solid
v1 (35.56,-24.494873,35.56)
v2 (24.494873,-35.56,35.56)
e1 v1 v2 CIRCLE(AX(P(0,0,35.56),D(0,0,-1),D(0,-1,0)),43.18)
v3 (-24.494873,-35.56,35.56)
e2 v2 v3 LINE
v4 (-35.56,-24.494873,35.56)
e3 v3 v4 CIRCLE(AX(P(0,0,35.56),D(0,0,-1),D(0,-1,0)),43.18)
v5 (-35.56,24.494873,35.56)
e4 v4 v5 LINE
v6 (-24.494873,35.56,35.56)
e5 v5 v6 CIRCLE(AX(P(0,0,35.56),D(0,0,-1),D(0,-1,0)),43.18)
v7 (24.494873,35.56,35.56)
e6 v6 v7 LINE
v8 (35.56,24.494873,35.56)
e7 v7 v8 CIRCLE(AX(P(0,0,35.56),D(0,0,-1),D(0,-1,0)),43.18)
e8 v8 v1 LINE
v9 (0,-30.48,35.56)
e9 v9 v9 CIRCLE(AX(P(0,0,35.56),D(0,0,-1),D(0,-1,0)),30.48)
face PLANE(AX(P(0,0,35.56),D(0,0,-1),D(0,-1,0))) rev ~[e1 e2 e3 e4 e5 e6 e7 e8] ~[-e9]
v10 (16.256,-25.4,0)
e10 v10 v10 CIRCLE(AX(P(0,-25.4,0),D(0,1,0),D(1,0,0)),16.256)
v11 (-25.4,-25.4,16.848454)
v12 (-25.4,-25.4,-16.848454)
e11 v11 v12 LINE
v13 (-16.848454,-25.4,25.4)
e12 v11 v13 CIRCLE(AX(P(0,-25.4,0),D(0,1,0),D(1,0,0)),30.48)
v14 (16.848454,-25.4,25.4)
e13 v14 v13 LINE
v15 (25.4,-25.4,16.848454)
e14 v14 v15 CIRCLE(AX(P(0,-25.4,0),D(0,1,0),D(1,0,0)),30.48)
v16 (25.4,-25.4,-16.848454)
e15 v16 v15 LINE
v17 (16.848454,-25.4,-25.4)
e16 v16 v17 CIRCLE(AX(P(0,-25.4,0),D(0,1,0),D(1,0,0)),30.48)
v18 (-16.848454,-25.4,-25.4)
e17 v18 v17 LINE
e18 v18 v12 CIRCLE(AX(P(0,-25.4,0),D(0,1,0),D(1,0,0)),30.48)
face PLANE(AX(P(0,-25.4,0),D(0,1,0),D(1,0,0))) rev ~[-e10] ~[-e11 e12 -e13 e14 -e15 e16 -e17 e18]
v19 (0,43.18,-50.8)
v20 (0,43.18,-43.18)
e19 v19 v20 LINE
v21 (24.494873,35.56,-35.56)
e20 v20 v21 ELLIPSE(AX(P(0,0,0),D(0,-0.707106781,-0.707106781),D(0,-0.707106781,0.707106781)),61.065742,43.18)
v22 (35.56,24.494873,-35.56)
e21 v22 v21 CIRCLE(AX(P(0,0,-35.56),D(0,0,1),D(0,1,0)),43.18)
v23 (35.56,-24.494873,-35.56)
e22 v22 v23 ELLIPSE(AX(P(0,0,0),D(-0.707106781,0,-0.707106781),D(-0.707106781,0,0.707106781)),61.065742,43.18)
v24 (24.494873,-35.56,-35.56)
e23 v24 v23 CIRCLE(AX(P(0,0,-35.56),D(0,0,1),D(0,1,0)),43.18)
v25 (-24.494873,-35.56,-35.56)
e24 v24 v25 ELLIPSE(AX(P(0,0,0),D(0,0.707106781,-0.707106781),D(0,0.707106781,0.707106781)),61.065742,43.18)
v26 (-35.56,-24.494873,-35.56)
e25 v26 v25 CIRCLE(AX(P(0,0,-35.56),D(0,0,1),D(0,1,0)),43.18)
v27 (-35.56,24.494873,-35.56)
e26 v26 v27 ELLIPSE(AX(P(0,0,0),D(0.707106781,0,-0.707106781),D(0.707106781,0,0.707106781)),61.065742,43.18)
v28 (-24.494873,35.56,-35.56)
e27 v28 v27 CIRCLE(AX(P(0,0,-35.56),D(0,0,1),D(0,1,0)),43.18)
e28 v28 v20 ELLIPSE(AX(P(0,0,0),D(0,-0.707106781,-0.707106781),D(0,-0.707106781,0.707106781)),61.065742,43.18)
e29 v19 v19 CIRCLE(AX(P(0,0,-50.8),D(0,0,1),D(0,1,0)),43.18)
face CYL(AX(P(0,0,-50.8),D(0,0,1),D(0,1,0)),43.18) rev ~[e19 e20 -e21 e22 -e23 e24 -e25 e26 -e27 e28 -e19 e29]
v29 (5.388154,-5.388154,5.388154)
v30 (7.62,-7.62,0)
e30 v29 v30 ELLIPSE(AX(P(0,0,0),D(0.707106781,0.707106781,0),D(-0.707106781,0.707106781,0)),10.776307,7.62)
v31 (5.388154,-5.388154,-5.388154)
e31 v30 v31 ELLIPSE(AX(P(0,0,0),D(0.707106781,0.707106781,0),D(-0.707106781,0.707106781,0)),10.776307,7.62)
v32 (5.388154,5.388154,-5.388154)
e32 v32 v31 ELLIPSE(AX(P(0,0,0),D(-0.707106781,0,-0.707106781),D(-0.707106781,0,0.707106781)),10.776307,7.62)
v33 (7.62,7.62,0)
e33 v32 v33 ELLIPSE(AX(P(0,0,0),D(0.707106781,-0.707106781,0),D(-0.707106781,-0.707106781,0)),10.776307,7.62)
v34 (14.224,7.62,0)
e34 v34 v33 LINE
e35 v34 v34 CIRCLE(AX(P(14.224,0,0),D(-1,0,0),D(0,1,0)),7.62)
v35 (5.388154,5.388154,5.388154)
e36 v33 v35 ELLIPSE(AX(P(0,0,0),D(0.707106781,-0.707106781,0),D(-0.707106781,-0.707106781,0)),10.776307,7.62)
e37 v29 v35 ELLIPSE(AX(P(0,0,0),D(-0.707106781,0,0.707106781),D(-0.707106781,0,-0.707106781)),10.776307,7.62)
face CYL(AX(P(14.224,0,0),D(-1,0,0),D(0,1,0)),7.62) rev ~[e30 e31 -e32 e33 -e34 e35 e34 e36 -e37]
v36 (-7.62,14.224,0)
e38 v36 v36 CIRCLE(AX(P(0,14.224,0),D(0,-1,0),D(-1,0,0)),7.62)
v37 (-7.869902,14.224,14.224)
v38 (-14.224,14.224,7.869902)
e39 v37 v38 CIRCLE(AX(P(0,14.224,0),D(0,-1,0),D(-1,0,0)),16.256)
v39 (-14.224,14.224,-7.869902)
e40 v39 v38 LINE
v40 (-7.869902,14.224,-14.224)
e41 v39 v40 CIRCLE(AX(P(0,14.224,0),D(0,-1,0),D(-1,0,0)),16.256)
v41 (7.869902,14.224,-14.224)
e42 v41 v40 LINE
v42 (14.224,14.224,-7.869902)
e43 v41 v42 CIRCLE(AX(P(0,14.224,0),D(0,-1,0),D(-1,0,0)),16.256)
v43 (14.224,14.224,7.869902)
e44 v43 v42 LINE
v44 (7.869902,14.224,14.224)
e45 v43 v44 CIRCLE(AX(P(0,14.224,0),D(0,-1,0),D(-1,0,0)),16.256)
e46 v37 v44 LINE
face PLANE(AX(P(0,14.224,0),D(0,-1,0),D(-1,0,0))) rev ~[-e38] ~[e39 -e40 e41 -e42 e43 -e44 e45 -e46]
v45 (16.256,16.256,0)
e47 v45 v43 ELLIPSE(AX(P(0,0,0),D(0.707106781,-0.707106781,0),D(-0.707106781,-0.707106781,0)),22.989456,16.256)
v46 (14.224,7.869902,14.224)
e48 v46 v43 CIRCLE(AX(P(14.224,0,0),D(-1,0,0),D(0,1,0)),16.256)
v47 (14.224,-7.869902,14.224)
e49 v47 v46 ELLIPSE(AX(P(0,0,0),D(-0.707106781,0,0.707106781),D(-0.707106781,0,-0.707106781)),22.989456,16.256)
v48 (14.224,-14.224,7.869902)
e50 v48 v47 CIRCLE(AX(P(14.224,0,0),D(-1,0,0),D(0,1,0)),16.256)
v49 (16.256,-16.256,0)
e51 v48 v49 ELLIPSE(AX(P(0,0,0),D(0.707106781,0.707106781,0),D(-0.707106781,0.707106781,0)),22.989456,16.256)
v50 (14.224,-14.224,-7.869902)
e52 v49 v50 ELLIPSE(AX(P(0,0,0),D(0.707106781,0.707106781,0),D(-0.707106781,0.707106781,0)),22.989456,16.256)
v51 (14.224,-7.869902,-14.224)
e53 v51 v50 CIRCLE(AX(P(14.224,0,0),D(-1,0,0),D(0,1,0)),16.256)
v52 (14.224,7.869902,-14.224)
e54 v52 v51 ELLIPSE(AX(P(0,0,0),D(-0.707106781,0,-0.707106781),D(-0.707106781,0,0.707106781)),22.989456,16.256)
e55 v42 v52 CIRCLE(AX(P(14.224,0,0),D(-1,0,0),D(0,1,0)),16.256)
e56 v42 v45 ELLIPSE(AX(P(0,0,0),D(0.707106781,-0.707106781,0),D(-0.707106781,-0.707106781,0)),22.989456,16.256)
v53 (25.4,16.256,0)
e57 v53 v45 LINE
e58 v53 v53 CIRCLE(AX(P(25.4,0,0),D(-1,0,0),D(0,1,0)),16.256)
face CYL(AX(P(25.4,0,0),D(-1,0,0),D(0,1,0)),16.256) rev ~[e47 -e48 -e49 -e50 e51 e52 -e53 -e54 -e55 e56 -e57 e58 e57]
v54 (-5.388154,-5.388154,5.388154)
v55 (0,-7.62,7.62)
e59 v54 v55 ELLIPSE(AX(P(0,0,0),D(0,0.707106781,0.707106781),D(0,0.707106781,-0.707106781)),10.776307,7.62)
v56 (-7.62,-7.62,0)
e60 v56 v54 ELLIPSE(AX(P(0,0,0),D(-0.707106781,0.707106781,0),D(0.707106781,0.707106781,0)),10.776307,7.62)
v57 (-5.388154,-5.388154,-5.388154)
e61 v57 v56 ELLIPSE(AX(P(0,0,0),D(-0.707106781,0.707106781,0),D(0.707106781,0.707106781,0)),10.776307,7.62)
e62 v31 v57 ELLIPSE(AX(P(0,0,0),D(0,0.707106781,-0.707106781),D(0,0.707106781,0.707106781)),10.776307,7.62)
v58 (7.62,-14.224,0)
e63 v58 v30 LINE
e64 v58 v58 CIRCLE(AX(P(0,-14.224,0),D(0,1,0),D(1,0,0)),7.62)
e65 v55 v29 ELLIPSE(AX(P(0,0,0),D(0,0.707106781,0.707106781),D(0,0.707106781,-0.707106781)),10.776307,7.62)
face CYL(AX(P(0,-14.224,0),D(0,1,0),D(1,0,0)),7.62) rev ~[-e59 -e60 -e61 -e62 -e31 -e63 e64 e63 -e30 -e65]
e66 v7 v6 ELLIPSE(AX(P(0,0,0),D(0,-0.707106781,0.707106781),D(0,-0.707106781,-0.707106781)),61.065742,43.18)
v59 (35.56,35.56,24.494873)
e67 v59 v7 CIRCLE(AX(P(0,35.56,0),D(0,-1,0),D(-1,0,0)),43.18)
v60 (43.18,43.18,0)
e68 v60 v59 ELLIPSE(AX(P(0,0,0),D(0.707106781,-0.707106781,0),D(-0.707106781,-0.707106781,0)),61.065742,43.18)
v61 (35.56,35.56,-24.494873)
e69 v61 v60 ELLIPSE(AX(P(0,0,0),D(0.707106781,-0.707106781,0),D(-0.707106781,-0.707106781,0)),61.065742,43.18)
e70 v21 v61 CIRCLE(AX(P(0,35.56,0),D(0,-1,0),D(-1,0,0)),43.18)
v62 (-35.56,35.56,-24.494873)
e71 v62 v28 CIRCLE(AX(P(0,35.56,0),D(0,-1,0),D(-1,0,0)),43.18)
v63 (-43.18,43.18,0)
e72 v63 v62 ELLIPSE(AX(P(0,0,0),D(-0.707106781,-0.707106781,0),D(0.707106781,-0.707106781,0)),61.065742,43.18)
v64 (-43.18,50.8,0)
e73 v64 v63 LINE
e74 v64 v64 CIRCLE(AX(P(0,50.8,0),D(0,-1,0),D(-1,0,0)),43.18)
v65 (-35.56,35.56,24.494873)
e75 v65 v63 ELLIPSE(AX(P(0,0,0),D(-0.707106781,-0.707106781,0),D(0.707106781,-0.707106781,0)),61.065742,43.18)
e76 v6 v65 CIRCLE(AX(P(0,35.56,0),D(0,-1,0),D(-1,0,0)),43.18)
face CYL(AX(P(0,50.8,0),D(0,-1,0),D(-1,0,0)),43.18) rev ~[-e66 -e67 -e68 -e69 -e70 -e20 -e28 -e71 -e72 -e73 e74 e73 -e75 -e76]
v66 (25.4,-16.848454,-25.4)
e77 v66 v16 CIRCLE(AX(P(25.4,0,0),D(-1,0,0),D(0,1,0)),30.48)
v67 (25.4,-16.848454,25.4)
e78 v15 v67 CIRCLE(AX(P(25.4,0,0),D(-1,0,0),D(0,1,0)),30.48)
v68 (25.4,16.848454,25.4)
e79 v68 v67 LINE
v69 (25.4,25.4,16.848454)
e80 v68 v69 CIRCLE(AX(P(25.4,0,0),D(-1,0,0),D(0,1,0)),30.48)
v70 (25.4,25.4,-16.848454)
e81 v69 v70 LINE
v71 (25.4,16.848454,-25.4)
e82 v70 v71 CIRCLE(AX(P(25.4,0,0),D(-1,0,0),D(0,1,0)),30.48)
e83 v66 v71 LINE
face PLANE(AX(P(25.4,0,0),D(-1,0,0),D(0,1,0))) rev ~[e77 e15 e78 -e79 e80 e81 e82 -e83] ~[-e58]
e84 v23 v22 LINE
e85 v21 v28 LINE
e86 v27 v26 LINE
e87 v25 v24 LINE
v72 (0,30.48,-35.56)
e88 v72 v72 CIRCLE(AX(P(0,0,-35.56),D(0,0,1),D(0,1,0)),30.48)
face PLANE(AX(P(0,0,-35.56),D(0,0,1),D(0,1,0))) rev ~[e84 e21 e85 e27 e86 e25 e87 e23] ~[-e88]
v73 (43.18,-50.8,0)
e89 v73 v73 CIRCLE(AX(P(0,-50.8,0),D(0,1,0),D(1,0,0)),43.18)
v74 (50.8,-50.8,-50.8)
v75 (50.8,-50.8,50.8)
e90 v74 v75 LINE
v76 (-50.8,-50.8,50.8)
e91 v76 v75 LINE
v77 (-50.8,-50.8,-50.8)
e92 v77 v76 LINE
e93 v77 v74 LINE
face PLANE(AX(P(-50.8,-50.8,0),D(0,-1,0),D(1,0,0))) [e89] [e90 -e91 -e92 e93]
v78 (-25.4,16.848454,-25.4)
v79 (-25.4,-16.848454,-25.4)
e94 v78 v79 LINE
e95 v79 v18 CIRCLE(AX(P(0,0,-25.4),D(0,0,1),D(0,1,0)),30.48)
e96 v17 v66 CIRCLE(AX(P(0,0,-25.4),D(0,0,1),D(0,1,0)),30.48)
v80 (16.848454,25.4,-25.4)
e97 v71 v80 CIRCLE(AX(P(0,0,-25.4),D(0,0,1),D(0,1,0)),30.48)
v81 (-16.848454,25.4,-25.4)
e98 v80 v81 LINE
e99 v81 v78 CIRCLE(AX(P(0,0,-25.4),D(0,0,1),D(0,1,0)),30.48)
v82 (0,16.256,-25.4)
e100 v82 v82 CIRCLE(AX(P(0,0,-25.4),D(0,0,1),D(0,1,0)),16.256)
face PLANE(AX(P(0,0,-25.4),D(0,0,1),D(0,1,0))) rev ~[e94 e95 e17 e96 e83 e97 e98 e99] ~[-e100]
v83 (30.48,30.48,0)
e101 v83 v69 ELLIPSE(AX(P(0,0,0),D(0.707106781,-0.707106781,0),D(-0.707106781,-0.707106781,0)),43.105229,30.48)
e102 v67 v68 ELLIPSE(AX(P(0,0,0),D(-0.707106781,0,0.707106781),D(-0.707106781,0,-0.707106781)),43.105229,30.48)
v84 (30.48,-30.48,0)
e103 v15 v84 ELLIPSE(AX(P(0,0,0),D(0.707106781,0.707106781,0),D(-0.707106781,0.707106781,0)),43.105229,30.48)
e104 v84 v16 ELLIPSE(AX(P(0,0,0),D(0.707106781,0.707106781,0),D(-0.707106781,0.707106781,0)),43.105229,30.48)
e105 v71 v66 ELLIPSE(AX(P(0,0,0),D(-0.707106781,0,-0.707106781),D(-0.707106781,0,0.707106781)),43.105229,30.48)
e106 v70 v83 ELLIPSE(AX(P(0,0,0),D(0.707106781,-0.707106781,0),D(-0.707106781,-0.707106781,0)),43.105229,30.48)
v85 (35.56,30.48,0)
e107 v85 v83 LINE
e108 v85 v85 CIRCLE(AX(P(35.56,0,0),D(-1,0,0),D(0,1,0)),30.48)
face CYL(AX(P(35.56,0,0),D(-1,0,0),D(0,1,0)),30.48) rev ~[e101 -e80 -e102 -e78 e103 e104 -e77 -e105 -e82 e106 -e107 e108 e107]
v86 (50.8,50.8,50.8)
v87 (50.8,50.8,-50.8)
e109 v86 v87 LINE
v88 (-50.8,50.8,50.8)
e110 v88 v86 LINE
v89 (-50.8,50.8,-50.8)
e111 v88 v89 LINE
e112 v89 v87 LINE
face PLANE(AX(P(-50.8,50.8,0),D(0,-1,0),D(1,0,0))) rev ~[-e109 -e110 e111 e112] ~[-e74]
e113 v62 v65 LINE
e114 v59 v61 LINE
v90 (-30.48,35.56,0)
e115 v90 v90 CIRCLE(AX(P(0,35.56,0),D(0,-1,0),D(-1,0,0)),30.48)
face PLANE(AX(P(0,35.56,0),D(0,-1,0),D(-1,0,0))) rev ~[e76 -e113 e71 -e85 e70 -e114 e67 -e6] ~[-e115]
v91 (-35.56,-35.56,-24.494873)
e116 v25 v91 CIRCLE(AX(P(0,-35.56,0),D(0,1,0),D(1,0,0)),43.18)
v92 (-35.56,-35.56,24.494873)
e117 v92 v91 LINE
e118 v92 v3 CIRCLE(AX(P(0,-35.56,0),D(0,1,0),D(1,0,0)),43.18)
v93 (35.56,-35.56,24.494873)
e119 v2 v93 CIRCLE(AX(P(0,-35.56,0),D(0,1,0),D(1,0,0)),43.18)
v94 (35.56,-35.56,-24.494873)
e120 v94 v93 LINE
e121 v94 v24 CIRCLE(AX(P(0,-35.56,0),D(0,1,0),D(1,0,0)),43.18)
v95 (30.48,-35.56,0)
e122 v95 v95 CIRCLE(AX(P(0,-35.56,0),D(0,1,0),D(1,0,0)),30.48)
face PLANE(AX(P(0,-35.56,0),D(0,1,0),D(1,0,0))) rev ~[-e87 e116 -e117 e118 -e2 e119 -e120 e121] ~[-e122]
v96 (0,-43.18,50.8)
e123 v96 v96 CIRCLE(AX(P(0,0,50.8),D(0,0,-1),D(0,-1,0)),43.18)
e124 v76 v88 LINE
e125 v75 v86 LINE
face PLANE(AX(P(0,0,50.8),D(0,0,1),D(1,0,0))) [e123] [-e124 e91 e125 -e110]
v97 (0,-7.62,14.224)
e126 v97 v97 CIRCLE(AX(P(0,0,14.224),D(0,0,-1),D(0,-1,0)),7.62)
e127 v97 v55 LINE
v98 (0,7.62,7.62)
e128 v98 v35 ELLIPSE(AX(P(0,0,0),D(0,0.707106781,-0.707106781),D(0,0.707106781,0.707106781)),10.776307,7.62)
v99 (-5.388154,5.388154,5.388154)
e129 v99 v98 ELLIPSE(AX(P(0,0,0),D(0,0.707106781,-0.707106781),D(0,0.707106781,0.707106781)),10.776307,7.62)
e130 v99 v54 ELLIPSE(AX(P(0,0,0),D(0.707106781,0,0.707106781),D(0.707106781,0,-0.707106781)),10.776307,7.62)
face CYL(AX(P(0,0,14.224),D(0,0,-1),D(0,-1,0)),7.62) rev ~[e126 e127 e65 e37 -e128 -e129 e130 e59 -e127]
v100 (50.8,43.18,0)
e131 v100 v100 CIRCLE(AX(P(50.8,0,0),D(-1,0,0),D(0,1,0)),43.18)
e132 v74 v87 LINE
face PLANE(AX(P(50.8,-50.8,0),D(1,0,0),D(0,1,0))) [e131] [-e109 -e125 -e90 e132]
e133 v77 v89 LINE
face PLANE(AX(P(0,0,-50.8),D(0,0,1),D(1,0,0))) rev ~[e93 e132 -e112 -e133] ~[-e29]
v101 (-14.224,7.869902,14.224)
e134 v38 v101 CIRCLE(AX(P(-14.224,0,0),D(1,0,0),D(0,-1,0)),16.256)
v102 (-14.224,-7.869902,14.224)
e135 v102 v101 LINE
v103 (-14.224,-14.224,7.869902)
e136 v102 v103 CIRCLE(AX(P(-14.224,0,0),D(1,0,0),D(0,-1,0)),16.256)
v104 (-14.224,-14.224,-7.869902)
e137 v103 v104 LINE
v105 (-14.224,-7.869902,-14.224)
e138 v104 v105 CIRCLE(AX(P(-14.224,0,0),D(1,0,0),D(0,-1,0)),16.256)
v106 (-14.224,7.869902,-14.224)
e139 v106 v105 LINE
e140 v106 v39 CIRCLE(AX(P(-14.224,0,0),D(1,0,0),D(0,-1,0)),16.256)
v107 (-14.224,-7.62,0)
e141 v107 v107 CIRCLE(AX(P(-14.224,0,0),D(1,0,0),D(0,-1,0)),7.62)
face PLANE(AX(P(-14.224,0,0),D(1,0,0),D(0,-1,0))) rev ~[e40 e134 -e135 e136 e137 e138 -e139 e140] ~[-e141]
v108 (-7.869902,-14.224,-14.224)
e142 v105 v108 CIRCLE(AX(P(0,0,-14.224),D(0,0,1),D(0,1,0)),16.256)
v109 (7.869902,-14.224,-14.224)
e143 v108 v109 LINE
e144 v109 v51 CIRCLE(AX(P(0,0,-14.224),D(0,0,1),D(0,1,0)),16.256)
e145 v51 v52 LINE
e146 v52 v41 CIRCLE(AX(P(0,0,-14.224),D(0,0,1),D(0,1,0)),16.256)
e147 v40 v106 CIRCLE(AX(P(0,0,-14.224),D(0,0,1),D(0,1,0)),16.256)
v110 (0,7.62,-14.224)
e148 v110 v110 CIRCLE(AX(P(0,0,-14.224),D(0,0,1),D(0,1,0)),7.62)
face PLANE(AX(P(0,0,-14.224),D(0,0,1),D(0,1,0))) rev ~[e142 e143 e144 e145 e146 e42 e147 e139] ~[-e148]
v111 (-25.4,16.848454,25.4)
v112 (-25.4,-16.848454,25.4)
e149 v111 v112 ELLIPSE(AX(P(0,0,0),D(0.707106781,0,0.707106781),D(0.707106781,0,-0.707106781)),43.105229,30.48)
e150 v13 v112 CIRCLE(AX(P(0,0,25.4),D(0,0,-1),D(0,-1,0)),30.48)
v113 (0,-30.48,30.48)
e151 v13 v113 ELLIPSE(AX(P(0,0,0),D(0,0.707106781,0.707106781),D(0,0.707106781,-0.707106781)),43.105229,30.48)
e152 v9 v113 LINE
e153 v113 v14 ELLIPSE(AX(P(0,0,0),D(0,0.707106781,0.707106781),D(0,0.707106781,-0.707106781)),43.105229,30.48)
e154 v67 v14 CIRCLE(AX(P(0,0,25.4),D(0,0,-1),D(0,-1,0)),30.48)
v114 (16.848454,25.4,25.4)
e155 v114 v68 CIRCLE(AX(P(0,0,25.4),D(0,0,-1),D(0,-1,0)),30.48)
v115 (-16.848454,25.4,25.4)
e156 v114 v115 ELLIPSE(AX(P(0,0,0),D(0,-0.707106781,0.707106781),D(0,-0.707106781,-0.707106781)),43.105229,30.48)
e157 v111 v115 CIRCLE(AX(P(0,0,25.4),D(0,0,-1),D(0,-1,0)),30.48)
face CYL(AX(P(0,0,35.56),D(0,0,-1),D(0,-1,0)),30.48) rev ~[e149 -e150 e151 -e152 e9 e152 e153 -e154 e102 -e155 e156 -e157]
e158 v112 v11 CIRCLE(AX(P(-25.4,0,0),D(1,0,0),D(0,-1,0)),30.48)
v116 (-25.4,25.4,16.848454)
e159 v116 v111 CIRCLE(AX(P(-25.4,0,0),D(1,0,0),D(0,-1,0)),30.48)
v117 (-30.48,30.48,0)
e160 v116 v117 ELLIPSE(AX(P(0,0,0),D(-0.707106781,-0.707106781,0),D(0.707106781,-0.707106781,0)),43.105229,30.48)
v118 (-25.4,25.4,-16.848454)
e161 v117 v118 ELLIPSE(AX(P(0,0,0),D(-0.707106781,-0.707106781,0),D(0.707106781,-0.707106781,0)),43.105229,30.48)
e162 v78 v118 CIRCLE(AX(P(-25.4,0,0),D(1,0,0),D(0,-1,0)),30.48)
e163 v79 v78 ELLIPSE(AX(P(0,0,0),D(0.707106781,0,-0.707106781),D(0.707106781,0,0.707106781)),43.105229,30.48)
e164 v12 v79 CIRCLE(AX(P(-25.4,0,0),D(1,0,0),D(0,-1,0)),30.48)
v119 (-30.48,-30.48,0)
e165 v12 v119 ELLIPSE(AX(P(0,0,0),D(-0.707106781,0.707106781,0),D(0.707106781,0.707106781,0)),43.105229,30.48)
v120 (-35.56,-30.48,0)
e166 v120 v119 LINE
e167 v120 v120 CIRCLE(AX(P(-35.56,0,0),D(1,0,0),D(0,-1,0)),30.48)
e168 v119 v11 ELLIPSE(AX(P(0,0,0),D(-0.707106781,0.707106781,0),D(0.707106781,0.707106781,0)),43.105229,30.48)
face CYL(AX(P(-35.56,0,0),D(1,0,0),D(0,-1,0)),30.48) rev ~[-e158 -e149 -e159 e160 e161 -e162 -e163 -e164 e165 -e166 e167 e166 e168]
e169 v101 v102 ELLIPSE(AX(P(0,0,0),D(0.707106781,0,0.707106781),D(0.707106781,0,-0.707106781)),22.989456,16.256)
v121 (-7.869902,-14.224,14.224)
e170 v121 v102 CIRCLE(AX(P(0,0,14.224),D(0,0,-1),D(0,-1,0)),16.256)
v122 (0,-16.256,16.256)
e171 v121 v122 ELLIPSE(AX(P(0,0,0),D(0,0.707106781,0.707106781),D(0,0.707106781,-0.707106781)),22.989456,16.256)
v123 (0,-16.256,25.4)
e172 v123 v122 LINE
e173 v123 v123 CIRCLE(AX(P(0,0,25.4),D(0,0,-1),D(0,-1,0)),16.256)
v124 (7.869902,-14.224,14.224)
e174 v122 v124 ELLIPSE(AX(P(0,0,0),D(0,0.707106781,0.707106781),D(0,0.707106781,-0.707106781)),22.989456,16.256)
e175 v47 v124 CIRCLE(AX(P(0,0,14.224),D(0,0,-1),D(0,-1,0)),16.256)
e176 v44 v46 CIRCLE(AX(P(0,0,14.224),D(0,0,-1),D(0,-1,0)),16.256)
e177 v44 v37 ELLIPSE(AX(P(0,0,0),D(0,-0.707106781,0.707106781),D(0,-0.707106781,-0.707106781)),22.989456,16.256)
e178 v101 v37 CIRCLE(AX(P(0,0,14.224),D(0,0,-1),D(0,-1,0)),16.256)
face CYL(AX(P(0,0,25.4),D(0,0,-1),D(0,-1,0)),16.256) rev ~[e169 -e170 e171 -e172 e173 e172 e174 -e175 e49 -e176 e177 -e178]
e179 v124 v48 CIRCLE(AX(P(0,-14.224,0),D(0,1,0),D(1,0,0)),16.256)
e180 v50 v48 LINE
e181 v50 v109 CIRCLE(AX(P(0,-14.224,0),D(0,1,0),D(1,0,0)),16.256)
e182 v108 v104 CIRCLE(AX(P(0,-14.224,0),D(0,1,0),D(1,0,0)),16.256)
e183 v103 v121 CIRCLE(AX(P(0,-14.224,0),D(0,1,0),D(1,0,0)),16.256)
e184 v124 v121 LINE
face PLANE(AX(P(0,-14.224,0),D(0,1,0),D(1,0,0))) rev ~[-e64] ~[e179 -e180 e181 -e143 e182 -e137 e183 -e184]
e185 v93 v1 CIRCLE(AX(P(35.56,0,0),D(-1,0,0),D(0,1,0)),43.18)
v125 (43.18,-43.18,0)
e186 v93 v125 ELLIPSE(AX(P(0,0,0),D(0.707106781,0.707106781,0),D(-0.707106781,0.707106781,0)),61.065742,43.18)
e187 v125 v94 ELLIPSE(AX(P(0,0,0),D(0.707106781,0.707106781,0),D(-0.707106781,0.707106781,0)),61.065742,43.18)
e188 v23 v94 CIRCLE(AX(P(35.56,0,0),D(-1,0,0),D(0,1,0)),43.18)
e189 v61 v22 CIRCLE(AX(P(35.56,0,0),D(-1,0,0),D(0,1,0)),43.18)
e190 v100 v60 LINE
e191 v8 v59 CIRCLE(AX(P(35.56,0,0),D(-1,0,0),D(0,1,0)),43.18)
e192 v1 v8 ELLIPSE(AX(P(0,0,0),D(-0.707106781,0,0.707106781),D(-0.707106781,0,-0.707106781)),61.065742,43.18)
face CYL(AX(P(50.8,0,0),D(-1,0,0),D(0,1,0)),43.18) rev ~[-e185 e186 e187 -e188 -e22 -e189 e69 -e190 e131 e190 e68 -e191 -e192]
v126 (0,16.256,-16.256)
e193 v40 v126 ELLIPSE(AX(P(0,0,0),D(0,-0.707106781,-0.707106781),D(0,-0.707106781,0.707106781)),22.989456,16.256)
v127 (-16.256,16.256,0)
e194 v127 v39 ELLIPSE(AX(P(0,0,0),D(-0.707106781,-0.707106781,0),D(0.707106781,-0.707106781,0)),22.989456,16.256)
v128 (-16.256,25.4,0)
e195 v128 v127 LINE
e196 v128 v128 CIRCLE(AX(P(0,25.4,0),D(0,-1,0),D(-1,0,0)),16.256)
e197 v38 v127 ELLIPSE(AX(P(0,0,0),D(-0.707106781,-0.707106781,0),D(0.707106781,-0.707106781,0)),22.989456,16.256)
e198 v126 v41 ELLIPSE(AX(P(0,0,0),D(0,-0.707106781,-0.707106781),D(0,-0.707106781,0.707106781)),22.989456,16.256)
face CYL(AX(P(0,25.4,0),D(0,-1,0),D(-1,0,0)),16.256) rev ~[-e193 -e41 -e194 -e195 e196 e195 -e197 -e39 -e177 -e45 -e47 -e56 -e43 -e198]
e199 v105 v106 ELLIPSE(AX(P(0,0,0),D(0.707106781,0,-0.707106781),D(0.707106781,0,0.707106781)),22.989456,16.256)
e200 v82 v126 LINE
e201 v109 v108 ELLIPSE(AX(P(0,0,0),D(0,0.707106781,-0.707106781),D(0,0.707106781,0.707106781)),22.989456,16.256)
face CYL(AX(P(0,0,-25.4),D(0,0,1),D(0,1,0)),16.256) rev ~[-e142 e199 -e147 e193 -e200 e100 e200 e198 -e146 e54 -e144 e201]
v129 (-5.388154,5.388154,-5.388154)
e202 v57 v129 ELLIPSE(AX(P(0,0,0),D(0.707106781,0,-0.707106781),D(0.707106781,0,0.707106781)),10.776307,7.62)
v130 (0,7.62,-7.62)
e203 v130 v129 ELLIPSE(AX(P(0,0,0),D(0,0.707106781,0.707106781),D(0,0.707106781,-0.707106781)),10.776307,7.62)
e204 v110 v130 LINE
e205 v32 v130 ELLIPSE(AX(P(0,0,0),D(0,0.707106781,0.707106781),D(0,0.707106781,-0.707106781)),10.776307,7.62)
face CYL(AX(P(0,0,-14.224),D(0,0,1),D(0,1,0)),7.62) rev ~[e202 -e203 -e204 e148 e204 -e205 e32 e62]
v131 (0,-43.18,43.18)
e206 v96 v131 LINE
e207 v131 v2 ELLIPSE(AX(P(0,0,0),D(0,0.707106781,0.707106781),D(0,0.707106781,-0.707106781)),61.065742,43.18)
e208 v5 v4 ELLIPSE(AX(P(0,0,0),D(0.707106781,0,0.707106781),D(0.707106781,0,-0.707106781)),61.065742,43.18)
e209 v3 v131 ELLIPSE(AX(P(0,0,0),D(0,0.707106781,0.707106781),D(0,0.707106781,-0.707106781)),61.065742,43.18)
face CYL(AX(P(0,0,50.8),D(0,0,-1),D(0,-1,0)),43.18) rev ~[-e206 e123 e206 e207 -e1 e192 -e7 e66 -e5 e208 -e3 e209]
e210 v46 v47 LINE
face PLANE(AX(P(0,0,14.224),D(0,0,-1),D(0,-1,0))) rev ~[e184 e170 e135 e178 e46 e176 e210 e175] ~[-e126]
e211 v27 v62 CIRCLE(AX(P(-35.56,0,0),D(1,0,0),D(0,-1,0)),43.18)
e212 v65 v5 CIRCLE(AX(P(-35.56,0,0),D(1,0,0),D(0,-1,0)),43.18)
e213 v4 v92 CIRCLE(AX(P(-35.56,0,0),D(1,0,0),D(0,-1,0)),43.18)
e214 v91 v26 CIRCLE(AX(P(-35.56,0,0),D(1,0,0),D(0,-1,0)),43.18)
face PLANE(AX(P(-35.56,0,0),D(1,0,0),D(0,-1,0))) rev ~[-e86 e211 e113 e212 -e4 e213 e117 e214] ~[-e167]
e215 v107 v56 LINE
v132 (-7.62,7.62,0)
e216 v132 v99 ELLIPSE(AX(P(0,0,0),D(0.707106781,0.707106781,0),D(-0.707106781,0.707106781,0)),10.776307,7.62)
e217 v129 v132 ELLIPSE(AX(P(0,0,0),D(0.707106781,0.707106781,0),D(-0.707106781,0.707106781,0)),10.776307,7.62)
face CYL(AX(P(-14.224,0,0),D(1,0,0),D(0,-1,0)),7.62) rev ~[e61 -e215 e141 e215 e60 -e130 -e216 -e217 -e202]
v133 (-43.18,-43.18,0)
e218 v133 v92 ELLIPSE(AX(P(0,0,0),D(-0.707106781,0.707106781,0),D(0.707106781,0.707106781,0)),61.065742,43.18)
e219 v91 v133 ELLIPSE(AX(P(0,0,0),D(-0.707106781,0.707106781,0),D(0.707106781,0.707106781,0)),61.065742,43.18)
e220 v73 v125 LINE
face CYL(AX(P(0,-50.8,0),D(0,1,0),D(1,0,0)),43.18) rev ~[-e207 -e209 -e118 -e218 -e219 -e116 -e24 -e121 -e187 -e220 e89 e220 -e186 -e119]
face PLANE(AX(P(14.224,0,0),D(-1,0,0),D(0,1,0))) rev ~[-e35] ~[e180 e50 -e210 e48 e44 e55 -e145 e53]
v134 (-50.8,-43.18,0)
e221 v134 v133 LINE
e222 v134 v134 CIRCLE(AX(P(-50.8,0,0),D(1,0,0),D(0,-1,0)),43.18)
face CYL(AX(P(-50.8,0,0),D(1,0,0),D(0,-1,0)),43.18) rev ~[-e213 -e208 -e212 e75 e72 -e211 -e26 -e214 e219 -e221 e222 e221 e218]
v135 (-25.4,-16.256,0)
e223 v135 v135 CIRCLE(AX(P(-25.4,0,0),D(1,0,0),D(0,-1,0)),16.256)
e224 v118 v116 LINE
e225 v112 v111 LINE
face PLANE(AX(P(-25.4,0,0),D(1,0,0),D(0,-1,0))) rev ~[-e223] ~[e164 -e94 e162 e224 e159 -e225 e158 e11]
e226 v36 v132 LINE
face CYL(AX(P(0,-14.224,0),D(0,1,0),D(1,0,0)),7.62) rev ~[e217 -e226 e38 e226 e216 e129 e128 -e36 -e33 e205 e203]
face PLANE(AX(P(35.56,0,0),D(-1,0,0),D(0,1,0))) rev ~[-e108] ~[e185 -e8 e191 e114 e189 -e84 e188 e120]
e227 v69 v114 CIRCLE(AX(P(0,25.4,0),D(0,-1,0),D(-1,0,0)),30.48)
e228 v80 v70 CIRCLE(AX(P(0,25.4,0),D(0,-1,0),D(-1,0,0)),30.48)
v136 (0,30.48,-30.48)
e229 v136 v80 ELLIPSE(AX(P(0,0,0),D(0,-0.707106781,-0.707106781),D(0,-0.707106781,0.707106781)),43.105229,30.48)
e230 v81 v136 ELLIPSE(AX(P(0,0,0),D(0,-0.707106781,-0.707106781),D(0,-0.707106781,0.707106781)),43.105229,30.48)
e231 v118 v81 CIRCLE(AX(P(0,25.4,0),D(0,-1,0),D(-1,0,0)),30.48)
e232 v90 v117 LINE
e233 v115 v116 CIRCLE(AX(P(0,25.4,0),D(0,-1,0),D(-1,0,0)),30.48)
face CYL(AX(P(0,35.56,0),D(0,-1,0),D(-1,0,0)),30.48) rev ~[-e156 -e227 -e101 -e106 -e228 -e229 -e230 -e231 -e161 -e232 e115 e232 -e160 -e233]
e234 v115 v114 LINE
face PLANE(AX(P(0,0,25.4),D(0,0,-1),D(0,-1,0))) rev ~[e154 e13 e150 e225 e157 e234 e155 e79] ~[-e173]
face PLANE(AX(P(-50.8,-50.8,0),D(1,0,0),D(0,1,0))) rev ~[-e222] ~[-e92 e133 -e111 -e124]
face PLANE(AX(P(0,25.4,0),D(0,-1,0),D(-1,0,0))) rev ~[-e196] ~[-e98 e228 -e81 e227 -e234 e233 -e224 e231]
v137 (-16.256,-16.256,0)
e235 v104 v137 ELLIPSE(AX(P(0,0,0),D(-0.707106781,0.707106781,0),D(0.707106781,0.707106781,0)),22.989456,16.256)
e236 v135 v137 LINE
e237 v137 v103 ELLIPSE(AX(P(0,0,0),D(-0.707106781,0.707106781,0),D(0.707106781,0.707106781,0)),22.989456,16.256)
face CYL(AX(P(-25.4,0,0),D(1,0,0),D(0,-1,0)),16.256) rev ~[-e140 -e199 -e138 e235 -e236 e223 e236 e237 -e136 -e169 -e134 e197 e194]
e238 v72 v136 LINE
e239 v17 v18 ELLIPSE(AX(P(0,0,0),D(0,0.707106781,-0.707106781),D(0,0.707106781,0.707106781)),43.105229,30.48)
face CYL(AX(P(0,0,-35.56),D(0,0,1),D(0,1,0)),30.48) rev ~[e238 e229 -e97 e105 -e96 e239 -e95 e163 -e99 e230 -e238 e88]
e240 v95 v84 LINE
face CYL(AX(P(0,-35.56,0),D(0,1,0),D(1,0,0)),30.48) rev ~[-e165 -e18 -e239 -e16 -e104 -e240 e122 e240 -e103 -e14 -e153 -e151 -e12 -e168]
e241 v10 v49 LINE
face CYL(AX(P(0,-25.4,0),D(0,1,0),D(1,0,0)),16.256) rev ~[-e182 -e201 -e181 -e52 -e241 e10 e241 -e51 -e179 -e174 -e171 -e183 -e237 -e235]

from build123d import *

# Parameters (mm, degrees)
F0_W          = 101.6
F0_H          = 101.6
F1_DEPTH      = 50.8
F1_DEPTH_BACK = 50.8


with BuildPart() as f1:
    # F0 (on Top) → F1 (new body, two sides)
    with BuildSketch(Plane.XY) as f1_sk:
        Rectangle(F0_W, F0_H)
    extrude(amount=F1_DEPTH)
    extrude(f1_sk.sketch, amount=-F1_DEPTH_BACK)

    # F2 (on Top) → F3 (revolve, cut)
    with BuildSketch(Plane.XY):
        Polygon((0, 50.8), (-41.1113, 50.8), (-43.18, 50.8), (-43.18, 35.56), (-30.48, 35.56), (-30.48, 25.4), (-16.256, 25.4), (-16.256, 14.224), (-7.62, 14.224), (-7.62, 0), (0, 0), align=None)
    revolve(axis=Axis((0, 25.4, 0), (0, -1, 0)), mode=Mode.SUBTRACT)

    # F4 (on Top) → F5 (revolve, cut)
    with BuildSketch(Plane.XY):
        Polygon((0, -50.8), (13.884519, -50.8), (43.18, -50.8), (43.18, -35.56), (30.48, -35.56), (30.48, -25.4), (16.256, -25.4), (16.256, -14.224), (7.62, -14.224), (7.62, 0), (0, 0), align=None)
    revolve(axis=Axis((0, -25.4, 0), (0, 1, 0)), mode=Mode.SUBTRACT)

    # F6 (on Top) → F7 (revolve, cut)
    with BuildSketch(Plane.XY):
        Polygon((50.8, 0), (50.8, 16.378657), (50.8, 43.18), (35.56, 43.18), (35.56, 30.48), (25.4, 30.48), (25.4, 16.256), (14.224, 16.256), (14.224, 7.62), (0, 7.62), (0, 0), align=None)
    revolve(axis=Axis((25.4, 0, 0), (-1, 0, 0)), mode=Mode.SUBTRACT)

    # F8 (on Top) → F9 (revolve, cut)
    with BuildSketch(Plane.XY):
        Polygon((-50.8, 0), (-50.8, -43.18), (-35.56, -43.18), (-35.56, -30.48), (-25.4, -30.48), (-25.4, -16.256), (-14.224, -16.256), (-14.224, -7.62), (0, -7.62), (0, 0), align=None)
    revolve(axis=Axis((-25.4, 0, 0), (1, 0, 0)), mode=Mode.SUBTRACT)

    # F10 (on Right) → F11 (revolve, cut)
    with BuildSketch(Plane.YZ):
        Polygon((-7.62, 0), (0, 0), (0, 50.8), (-43.18, 50.8), (-43.18, 35.56), (-30.48, 35.56), (-30.48, 25.4), (-16.256, 25.4), (-16.256, 14.224), (-7.62, 14.224), align=None)
    revolve(axis=Axis((0, 0, 25.4), (0, 0, -1)), mode=Mode.SUBTRACT)

    # F12 (on Right) → F13 (revolve, cut)
    with BuildSketch(Plane.YZ):
        Polygon((7.62, 0), (0, 0), (0, -50.8), (43.18, -50.8), (43.18, -35.56), (30.48, -35.56), (30.48, -25.4), (16.256, -25.4), (16.256, -14.224), (7.62, -14.224), align=None)
    revolve(axis=Axis((0, 0, -25.4), (0, 0, 1)), mode=Mode.SUBTRACT)


solid = f1.part
